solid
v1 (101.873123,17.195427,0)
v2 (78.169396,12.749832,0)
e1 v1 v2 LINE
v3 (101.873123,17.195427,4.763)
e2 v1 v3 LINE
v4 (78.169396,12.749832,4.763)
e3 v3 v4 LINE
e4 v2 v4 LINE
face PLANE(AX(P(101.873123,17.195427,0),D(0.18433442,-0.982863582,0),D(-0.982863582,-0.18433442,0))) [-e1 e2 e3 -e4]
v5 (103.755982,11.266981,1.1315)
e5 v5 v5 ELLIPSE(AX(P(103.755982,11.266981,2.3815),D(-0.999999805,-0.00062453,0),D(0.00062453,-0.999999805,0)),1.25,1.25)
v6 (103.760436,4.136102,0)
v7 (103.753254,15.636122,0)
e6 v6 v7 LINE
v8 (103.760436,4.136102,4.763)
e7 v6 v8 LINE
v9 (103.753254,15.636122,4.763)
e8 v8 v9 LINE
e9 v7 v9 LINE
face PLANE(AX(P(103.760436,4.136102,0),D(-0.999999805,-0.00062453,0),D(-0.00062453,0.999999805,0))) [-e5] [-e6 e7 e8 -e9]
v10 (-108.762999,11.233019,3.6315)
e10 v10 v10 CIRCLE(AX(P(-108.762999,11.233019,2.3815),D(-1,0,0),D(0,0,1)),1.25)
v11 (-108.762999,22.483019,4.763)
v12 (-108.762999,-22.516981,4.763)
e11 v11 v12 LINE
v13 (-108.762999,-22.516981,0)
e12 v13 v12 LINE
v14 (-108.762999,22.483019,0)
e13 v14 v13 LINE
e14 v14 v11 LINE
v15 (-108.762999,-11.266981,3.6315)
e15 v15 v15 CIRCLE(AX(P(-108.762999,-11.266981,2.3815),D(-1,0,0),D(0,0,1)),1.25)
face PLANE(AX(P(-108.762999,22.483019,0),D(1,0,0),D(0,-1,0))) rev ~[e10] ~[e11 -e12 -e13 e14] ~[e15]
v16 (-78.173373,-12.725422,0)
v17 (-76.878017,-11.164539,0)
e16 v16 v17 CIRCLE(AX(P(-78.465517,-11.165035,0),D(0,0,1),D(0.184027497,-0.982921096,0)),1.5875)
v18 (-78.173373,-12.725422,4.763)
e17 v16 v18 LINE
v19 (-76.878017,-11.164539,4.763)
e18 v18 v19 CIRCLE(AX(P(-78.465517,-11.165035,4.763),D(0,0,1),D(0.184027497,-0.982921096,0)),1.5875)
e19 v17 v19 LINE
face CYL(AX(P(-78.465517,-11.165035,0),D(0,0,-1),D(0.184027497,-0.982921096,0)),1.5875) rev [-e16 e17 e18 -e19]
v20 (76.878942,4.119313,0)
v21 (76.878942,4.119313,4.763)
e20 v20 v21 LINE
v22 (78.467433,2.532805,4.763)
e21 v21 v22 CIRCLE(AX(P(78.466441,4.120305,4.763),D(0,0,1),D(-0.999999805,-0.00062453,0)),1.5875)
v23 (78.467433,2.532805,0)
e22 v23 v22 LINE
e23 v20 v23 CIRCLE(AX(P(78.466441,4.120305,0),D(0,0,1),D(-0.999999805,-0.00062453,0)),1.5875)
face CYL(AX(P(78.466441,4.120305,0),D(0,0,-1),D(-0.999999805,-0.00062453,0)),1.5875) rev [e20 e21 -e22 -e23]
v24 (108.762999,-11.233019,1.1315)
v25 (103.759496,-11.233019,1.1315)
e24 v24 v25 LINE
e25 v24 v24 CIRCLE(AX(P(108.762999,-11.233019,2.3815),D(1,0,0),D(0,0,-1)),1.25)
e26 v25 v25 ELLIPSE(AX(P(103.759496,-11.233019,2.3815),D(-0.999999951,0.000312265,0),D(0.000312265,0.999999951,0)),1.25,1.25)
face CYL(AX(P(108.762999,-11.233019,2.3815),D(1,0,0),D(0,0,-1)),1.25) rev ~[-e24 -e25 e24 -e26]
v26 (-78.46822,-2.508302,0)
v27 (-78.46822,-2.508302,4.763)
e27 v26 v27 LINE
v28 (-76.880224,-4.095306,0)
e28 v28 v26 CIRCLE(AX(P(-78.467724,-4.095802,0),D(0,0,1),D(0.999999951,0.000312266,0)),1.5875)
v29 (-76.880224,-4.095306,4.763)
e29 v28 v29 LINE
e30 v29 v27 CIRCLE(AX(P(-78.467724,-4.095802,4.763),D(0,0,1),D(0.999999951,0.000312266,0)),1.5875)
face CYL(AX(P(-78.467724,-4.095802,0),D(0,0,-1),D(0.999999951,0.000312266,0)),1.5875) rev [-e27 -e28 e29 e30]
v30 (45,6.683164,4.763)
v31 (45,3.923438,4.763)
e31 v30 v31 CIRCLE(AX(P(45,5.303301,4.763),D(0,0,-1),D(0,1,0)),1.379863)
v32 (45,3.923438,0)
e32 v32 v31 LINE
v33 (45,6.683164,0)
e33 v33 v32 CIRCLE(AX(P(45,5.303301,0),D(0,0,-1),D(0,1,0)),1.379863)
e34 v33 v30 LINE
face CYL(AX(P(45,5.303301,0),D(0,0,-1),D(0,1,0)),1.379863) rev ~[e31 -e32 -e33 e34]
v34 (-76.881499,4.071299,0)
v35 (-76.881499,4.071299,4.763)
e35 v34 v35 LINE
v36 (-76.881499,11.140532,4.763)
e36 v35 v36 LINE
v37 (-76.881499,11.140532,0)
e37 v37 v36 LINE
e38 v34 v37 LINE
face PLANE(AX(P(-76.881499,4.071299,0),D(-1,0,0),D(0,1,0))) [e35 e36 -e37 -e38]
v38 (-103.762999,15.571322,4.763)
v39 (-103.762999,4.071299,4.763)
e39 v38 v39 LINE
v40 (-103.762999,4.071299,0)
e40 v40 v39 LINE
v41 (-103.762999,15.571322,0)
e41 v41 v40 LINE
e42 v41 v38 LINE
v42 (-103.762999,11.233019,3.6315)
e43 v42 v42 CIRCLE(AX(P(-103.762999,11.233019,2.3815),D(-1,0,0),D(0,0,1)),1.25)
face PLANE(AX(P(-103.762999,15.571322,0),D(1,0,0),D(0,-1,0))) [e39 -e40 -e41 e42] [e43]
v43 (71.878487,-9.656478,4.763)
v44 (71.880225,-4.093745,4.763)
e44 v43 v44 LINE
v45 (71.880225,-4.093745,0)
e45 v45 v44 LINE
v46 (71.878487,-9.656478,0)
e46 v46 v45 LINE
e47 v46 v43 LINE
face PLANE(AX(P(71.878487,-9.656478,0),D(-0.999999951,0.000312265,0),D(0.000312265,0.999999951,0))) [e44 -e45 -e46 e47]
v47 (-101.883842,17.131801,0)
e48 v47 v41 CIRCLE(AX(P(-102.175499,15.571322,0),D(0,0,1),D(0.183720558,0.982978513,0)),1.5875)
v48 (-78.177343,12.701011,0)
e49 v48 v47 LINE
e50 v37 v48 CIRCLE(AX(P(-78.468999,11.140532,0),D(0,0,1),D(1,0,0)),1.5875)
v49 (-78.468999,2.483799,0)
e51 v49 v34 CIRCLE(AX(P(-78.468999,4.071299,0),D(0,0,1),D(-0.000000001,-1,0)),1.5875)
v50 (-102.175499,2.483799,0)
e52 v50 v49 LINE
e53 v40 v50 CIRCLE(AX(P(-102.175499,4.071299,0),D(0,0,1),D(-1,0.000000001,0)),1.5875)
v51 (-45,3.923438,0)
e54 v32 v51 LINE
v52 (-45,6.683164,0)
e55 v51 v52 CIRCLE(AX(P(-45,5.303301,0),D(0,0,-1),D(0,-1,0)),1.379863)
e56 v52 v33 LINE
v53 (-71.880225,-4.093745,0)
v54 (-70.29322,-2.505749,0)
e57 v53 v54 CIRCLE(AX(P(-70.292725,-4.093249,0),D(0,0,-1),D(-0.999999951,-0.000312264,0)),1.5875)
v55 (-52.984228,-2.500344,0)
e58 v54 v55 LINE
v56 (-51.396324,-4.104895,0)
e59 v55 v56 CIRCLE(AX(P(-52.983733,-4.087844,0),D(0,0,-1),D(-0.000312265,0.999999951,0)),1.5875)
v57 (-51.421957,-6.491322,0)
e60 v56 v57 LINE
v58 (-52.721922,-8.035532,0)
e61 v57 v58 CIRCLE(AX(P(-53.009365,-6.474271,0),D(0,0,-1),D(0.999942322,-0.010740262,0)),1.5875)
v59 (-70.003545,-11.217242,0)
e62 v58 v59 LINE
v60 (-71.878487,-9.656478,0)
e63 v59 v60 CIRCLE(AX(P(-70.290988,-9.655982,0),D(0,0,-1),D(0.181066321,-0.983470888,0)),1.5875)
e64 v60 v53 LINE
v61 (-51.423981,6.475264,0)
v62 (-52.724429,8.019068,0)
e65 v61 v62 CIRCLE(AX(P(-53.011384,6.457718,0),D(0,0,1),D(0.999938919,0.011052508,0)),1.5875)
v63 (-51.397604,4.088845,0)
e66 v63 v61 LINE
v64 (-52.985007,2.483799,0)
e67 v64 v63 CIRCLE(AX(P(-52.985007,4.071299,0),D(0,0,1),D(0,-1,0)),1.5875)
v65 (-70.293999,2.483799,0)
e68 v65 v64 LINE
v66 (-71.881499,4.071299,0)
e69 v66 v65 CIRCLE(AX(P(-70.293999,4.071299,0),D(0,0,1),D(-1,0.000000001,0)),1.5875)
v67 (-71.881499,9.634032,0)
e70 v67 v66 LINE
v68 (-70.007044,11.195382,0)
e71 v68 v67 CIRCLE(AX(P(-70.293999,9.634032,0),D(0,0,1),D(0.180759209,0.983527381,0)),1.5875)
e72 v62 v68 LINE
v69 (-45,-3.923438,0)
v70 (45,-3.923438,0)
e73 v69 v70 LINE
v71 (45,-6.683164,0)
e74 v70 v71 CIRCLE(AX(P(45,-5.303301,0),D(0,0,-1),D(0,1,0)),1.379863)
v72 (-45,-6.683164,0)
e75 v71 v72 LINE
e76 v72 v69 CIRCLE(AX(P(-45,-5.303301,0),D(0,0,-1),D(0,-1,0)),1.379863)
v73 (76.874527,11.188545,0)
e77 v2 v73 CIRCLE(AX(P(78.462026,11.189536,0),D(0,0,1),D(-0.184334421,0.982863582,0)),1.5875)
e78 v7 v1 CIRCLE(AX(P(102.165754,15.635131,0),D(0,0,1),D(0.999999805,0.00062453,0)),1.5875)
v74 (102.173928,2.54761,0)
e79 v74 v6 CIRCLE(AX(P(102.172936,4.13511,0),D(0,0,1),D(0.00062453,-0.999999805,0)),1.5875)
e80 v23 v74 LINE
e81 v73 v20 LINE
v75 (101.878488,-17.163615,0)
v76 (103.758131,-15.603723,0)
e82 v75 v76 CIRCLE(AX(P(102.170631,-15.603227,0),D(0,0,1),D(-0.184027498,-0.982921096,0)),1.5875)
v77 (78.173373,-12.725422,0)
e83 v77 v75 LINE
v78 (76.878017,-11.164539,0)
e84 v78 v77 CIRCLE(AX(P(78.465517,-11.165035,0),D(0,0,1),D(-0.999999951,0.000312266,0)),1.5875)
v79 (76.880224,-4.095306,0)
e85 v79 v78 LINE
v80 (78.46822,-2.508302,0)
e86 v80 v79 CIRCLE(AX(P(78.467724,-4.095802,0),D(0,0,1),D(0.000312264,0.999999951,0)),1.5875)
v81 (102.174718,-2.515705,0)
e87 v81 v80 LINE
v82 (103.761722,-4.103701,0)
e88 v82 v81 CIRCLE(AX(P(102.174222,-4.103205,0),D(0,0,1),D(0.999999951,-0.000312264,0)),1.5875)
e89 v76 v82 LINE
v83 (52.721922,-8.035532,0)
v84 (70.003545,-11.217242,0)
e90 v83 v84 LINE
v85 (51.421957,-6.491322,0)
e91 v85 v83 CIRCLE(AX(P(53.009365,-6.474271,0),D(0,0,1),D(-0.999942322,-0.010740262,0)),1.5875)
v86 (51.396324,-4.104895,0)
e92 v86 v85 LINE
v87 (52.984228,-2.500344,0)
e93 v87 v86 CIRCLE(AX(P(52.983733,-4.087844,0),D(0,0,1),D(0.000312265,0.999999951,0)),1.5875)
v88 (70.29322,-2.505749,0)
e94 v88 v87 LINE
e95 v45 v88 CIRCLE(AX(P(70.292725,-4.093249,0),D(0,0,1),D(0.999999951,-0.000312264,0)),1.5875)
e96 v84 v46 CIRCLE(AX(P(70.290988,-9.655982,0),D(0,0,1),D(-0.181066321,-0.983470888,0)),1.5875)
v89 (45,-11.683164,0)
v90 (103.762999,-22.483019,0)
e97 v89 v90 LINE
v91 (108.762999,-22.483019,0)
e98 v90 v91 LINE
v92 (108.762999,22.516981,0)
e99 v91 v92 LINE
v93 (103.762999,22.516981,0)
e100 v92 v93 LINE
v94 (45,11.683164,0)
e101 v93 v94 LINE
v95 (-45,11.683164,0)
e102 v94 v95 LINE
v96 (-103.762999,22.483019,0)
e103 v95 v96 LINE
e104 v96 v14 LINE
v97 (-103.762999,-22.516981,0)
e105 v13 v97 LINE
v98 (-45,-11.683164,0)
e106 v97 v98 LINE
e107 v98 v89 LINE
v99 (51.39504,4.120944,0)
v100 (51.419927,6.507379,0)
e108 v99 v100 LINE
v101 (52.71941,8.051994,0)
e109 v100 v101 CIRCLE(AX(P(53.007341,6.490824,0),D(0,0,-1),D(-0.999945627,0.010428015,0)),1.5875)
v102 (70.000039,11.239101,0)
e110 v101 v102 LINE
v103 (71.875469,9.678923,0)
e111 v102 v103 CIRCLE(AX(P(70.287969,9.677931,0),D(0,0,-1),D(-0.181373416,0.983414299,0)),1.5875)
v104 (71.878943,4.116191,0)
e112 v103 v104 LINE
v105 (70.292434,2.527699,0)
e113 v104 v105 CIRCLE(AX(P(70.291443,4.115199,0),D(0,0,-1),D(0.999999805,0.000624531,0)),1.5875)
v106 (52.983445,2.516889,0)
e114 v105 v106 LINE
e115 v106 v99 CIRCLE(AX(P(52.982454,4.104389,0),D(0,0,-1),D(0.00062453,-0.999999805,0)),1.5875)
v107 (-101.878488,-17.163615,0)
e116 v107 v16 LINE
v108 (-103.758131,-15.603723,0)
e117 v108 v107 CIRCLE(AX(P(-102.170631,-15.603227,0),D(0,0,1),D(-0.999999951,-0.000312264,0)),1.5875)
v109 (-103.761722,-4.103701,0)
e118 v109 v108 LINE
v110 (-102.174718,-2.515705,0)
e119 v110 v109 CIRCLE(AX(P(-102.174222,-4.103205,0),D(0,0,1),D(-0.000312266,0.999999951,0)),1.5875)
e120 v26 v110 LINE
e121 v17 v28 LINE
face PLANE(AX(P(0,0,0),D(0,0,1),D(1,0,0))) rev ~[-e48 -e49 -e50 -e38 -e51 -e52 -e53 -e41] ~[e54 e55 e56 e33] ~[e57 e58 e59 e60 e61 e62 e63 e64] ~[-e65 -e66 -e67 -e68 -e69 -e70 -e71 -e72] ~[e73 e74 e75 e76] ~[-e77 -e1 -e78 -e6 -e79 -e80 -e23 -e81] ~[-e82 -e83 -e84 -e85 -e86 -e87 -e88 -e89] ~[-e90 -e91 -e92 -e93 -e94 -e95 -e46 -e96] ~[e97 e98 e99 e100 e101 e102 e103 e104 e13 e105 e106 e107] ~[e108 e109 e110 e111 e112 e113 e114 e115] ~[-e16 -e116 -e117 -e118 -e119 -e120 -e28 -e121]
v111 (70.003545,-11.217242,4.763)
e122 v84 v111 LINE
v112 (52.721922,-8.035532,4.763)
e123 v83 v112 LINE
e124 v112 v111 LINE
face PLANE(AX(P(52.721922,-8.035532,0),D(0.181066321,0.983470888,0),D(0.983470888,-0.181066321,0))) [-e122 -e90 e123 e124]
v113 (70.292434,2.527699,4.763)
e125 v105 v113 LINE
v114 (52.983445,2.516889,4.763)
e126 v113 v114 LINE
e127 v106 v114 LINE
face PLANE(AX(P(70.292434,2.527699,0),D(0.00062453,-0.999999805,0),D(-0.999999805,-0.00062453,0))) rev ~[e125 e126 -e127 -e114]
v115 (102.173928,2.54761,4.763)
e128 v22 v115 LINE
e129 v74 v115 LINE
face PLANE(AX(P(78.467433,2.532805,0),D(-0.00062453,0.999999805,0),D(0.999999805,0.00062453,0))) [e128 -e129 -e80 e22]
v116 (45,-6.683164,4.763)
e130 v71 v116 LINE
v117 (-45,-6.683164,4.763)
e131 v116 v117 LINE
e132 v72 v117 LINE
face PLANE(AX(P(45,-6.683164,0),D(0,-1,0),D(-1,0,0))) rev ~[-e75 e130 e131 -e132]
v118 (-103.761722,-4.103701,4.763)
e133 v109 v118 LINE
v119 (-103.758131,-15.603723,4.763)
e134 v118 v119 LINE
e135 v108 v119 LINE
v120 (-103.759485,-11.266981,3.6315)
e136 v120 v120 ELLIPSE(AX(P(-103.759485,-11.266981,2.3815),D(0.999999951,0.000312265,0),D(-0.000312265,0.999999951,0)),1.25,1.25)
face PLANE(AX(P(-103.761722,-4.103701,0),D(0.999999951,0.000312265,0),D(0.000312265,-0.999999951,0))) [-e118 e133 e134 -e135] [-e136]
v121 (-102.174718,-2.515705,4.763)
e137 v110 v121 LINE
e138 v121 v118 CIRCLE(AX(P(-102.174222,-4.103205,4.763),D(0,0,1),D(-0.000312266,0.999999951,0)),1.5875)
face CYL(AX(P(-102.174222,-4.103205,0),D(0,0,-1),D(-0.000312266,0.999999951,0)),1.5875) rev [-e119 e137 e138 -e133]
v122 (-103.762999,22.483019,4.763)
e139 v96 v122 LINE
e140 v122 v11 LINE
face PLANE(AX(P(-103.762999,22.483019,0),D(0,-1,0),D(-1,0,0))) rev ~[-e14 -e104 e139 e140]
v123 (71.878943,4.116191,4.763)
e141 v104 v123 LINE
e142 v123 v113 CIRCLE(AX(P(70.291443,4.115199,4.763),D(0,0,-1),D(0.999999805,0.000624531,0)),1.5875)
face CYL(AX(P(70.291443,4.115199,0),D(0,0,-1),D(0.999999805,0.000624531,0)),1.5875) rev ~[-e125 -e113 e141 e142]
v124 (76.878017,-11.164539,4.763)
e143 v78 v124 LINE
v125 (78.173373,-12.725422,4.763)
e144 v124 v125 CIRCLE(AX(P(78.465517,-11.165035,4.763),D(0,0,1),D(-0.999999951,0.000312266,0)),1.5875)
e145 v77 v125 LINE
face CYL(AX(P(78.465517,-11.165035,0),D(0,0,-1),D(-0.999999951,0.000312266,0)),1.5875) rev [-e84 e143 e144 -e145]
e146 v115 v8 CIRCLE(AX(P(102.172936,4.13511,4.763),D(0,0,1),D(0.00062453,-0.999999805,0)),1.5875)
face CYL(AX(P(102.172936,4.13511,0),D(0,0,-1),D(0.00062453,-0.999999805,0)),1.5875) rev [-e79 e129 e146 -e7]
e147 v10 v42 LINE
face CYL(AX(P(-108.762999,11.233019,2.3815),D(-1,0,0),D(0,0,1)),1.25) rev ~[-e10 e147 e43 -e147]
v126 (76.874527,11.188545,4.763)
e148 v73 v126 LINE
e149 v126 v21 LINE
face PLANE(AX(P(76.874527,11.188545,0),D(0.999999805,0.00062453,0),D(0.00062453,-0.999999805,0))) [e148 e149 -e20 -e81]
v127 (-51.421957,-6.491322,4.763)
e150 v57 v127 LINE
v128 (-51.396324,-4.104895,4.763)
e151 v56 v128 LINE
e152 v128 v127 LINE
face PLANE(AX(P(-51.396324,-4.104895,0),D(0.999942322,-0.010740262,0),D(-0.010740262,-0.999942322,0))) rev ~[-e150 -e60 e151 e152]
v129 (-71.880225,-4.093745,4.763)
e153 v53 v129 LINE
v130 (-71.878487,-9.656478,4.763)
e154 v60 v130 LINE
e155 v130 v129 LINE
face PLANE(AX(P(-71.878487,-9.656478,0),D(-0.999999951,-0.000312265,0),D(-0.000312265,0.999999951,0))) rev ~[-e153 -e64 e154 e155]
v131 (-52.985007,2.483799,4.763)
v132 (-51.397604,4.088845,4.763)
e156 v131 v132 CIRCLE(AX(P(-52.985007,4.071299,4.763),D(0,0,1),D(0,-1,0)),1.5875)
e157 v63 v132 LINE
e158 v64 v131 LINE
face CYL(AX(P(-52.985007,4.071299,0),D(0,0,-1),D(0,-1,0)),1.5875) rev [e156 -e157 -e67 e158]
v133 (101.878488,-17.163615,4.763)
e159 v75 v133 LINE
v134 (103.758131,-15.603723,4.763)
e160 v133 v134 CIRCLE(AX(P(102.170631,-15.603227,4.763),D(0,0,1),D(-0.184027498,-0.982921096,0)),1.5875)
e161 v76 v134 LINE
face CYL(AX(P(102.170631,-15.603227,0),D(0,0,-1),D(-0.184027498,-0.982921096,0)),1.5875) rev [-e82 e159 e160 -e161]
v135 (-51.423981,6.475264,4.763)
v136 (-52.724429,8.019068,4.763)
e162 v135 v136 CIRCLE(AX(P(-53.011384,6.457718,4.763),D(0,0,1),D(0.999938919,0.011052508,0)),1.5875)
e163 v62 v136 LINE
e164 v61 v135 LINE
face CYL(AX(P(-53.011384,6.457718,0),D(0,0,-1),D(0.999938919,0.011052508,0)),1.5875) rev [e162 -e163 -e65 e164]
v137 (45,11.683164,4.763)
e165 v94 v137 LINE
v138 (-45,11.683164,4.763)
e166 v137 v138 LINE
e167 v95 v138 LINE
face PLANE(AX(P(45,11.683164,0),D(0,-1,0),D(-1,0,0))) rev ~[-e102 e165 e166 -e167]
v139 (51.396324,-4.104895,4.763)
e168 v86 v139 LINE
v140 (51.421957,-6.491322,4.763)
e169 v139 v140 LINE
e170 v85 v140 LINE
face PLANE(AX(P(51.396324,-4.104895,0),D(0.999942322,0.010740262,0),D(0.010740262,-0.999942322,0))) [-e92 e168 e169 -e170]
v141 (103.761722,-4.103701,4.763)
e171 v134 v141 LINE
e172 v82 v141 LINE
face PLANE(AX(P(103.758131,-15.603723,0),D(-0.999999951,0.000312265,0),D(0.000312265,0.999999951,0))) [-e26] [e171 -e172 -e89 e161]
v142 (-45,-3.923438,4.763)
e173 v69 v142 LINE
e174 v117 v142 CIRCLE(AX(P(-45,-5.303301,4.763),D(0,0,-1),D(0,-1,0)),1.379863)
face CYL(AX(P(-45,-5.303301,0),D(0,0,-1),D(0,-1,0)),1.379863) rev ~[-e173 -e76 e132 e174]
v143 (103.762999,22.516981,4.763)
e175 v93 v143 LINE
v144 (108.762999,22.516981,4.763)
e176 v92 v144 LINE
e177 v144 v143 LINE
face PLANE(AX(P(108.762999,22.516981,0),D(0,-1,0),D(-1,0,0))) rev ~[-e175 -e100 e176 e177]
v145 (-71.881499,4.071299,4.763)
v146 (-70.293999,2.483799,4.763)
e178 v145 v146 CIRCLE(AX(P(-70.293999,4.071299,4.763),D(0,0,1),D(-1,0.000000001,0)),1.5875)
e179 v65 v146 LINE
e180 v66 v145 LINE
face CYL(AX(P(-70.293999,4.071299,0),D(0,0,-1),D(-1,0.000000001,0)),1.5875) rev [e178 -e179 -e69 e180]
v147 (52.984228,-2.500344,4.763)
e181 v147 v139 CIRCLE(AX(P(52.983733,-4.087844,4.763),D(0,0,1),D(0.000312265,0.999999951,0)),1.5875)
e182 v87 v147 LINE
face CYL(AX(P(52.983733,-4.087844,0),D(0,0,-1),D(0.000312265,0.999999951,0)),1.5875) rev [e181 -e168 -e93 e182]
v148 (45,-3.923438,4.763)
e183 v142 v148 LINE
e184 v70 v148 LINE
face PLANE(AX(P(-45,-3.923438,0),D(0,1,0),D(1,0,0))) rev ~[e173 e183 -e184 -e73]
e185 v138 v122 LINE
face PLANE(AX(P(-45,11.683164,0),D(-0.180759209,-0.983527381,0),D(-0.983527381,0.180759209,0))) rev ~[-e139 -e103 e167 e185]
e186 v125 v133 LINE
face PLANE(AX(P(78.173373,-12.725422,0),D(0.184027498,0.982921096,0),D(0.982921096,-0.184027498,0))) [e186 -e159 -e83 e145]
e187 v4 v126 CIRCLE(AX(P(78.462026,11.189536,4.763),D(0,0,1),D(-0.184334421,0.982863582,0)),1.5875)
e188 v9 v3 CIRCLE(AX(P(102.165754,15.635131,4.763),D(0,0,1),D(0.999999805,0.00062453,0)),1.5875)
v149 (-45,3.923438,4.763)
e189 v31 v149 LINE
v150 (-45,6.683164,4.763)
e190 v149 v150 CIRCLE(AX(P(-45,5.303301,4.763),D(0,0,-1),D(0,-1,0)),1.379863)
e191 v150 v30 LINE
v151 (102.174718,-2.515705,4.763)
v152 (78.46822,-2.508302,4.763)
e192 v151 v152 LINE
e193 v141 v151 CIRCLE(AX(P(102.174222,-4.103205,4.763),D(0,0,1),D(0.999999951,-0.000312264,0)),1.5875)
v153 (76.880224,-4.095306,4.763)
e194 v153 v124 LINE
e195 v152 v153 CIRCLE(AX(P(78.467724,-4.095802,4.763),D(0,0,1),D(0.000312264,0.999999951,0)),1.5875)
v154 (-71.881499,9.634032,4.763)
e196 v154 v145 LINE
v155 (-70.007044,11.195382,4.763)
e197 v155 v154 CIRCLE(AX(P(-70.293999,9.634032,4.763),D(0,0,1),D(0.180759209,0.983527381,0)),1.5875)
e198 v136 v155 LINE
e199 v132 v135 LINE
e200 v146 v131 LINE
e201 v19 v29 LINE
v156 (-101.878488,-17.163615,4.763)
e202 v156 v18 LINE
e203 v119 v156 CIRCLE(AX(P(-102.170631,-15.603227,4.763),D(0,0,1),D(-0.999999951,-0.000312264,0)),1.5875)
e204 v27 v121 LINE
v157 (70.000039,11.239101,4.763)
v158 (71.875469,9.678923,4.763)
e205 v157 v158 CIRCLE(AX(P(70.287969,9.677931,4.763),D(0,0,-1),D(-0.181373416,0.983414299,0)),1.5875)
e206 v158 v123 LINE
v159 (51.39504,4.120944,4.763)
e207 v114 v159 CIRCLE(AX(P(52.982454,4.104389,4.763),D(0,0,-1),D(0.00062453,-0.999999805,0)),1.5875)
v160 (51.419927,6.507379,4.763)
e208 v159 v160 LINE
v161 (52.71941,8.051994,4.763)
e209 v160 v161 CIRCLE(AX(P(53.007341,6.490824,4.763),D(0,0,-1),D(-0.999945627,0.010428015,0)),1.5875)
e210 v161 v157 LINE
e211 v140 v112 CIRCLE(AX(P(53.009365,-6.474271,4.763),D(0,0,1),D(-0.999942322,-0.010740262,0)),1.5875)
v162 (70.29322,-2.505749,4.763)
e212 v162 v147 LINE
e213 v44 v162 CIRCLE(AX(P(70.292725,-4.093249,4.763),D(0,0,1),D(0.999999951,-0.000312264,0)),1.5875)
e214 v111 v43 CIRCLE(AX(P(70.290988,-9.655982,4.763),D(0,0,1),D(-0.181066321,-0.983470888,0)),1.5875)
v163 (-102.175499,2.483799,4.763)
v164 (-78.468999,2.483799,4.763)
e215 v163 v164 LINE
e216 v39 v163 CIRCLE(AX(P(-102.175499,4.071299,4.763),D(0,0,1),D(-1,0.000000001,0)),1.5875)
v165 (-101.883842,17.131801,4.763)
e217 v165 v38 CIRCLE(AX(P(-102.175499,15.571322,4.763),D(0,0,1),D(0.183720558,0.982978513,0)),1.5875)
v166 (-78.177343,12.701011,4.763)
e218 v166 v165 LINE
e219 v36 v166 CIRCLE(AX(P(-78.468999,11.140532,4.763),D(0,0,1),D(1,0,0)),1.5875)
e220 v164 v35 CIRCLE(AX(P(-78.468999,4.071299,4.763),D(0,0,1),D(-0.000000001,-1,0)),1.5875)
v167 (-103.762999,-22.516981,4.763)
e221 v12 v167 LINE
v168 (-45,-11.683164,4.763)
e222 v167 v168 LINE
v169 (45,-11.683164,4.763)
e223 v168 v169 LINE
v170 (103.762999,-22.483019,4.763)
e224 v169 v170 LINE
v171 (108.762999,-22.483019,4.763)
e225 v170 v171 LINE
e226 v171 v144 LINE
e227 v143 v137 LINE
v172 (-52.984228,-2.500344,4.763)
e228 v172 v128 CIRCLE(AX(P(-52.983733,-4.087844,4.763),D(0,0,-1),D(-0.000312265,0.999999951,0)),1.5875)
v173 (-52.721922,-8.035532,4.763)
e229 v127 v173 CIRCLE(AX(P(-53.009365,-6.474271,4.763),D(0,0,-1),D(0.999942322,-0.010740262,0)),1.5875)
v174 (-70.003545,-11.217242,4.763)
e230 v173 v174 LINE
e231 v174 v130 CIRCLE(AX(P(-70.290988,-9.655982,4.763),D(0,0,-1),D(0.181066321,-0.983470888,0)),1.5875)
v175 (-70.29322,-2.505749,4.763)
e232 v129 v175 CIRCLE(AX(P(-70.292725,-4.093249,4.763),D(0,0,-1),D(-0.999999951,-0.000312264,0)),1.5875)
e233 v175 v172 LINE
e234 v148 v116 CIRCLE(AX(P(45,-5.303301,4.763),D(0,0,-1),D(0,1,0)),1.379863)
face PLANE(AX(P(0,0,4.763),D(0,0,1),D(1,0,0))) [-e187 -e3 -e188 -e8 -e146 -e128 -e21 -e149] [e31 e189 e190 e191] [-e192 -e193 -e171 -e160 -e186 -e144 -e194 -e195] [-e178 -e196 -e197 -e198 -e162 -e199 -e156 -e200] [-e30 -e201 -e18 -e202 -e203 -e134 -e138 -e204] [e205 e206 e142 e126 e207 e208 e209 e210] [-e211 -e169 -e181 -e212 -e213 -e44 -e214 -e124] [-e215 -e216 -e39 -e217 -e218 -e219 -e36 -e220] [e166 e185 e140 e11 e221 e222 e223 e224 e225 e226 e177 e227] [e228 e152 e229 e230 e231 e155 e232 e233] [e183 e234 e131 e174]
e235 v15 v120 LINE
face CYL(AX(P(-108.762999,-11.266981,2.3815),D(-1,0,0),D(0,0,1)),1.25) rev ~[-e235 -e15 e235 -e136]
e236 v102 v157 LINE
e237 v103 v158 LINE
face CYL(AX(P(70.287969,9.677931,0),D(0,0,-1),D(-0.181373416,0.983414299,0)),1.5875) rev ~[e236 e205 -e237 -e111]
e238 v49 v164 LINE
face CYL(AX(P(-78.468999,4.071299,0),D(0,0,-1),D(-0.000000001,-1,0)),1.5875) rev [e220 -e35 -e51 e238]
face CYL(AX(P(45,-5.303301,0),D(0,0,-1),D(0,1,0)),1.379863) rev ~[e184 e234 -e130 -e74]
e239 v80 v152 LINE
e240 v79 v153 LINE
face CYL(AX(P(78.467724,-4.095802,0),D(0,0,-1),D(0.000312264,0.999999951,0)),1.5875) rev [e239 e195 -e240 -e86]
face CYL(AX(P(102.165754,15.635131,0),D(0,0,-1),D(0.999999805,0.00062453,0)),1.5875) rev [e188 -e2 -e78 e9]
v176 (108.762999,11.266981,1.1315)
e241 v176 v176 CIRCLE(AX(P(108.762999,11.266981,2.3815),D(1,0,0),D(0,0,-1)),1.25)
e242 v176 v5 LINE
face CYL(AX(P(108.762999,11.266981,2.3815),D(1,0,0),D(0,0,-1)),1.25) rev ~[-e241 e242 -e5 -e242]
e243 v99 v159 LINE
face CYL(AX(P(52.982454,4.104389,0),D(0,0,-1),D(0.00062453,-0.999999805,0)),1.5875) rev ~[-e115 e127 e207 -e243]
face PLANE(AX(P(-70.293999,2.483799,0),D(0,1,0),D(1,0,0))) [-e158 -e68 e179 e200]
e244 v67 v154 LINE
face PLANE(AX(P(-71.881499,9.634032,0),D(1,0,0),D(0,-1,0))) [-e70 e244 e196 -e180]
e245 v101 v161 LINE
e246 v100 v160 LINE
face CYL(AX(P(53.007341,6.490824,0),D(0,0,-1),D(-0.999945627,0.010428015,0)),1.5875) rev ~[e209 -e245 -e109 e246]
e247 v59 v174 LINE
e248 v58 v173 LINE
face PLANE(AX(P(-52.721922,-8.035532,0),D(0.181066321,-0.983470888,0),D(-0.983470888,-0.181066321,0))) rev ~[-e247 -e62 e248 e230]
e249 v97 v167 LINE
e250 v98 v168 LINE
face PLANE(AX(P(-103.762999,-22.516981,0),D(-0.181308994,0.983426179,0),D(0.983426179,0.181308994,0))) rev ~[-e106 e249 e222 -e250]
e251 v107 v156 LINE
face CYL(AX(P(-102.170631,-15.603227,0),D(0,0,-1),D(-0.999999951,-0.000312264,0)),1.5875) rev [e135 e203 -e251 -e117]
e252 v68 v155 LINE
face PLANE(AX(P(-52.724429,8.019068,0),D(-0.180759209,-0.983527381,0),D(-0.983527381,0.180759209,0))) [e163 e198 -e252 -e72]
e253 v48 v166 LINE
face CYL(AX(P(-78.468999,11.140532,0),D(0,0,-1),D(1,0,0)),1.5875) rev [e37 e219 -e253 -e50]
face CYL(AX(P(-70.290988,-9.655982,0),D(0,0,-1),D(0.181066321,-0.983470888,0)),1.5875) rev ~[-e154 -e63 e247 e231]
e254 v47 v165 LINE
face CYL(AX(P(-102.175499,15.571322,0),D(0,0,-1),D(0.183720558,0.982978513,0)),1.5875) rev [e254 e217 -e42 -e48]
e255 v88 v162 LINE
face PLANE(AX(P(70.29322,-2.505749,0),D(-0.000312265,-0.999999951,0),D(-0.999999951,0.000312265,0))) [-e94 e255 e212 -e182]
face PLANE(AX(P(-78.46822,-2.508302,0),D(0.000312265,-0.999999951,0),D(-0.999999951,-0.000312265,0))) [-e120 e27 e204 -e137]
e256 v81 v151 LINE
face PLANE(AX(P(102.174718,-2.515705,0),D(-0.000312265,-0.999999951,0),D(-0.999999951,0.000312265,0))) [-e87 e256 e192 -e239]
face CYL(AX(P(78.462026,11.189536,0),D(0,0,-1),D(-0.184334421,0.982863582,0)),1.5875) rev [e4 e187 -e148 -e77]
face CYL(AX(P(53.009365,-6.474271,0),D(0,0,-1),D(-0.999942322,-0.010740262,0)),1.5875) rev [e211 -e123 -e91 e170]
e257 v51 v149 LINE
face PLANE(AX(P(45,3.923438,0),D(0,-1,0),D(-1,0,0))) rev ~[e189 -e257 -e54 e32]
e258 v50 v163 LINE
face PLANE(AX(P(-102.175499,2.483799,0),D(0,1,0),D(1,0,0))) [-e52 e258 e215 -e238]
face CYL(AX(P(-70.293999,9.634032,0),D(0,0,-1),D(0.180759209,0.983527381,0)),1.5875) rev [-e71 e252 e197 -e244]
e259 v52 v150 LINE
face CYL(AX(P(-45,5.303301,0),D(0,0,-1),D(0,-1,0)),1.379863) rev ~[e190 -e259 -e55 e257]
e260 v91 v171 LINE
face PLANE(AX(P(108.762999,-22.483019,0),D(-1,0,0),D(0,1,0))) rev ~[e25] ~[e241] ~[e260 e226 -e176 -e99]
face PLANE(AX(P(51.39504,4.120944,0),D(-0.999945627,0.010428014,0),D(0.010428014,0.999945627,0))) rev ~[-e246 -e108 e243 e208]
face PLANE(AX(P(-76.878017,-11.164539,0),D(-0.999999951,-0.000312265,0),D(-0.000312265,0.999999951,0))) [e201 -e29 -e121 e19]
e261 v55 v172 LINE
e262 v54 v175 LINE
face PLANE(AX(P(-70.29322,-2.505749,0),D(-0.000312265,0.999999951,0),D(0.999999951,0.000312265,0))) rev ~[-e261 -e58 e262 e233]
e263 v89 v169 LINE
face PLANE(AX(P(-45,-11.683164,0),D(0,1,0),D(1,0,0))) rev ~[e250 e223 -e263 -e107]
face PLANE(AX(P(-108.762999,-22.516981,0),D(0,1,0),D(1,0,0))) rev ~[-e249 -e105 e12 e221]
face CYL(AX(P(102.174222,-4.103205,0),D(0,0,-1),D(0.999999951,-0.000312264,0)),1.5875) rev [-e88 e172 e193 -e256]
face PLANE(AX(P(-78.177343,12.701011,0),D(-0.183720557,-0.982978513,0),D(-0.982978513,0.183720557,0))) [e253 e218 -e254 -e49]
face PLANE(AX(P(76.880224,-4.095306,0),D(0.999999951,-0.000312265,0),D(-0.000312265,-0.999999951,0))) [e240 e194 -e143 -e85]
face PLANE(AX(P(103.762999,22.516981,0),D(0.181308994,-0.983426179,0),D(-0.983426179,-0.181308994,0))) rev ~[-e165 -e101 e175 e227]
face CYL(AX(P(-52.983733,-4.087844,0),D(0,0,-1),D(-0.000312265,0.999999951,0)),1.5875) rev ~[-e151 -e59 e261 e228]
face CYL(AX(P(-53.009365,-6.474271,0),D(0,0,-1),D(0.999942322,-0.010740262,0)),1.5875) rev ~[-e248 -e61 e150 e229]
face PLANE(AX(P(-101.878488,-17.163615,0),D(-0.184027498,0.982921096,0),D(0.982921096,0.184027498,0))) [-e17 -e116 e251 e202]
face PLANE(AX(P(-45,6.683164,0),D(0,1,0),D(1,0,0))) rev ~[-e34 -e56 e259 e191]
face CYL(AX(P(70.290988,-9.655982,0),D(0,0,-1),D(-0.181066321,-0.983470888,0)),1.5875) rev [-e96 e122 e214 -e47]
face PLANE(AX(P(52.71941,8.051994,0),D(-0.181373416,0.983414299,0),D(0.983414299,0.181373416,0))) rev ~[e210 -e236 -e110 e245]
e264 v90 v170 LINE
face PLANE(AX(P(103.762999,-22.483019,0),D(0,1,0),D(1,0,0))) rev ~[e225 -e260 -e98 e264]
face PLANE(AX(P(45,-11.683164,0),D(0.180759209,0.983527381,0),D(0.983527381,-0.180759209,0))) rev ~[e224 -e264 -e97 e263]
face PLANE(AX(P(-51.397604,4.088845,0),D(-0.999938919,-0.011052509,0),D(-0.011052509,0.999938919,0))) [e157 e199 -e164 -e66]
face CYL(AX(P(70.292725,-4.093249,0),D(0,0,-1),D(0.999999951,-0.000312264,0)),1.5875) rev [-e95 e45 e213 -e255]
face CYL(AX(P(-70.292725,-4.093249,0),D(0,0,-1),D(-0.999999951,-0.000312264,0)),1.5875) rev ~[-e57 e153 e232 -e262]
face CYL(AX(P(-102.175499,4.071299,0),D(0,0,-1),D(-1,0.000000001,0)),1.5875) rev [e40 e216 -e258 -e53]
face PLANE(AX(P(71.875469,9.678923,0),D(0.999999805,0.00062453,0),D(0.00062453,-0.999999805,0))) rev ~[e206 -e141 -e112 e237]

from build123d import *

# Parameters (mm, degrees)
BOSS_EXTRUDE1_DEPTH              = 4.763
TAP_DRILL_FOR_M3X0_5_TAP1_REACH  = 220.74
TAP_DRILL_FOR_M3X0_5_TAP1_BORE_R = 1.25
TAP_DRILL_FOR_M3X0_5_TAP2_REACH  = 220.74
TAP_DRILL_FOR_M3X0_5_TAP2_BORE_R = 1.25


with BuildPart() as part:
    # Sketch3 → Boss-Extrude1 (new body)
    with BuildSketch(Plane.XY):
        Polygon((-108.762998674, 22.483018567), (-108.762998674, -22.516981433), (-103.762998674, -22.516981433), (-45, -11.683163514), (45, -11.683163514), (103.762998674, -22.483018567), (108.762998674, -22.483018567), (108.762998674, 22.516981433), (103.762998674, 22.516981433), (45, 11.683163514), (-45, 11.683163514), (-103.762998674, 22.483018567), align=None)
        with BuildLine():
            Line((-45, -3.923438204), (45, -3.923438204))
            ThreePointArc((45, -3.923438204), (46.379862655, -5.303300859), (45, -6.683163514))
            Line((45, -6.683163514), (-45, -6.683163514))
            ThreePointArc((-45, -6.683163514), (-46.379862655, -5.303300859), (-45, -3.923438204))
        make_face(mode=Mode.SUBTRACT)
        with BuildLine():
            Line((-45, 6.683163514), (45, 6.683163514))
            ThreePointArc((45, 6.683163514), (46.379862655, 5.303300859), (45, 3.923438204))
            Line((45, 3.923438204), (-45, 3.923438204))
            ThreePointArc((-45, 3.923438204), (-46.379862655, 5.303300859), (-45, 6.683163514))
        make_face(mode=Mode.SUBTRACT)
        with BuildLine():
            Line((-103.762998674, 15.571322269), (-103.762998674, 4.07129926))
            ThreePointArc((-103.762998674, 4.07129926), (-103.298030689, 2.948767244), (-102.175498674, 2.48379926))
            Line((-102.175498674, 2.48379926), (-78.468999337, 2.48379926))
            ThreePointArc((-78.468999337, 2.48379926), (-77.346467322, 2.948767244), (-76.881499337, 4.07129926))
            Line((-76.881499337, 4.07129926), (-76.881499337, 11.140532377))
            ThreePointArc((-76.881499337, 11.140532377), (-77.247696598, 12.154719672), (-78.177342953, 12.701010766))
            Line((-78.177342953, 12.701010766), (-101.88384229, 17.131800658))
            ThreePointArc((-101.88384229, 17.131800658), (-103.18968597, 16.792625008), (-103.762998674, 15.571322269))
        make_face(mode=Mode.SUBTRACT)
        with BuildLine():
            Line((-52.721922194, -8.035531504), (-70.003544755, -11.217242177))
            ThreePointArc((-70.003544755, -11.217242177), (-71.306631893, -10.87607345), (-71.878487463, -9.656477863))
            Line((-71.878487463, -9.656477863), (-71.880224509, -4.093745129))
            ThreePointArc((-71.880224509, -4.093745129), (-71.415607074, -2.971067976), (-70.293220307, -2.505749486))
            Line((-70.293220307, -2.505749486), (-52.984228369, -2.500344496))
            ThreePointArc((-52.984228369, -2.500344496), (-51.855362923, -2.971180632), (-51.396324213, -4.104894584))
            Line((-51.396324213, -4.104894584), (-51.421956543, -6.491321636))
            ThreePointArc((-51.421956543, -6.491321636), (-51.794905097, -7.496642951), (-52.721922194, -8.035531504))
        make_face(mode=Mode.SUBTRACT)
        with BuildLine():
            Line((-71.881499337, 9.634032264), (-71.881499337, 4.07129926))
            ThreePointArc((-71.881499337, 4.07129926), (-71.416531352, 2.948767244), (-70.293999337, 2.48379926))
            Line((-70.293999337, 2.48379926), (-52.985006556, 2.48379926))
            ThreePointArc((-52.985006556, 2.48379926), (-51.85628819, 2.954987878), (-51.397603521, 4.088845117))
            Line((-51.397603521, 4.088845117), (-51.423981048, 6.475264048))
            ThreePointArc((-51.423981048, 6.475264048), (-51.79724351, 7.480468855), (-52.724428838, 8.019067907))
            Line((-52.724428838, 8.019067907), (-70.007044093, 11.195381981))
            ThreePointArc((-70.007044093, 11.195381981), (-71.310024632, 10.853806362), (-71.881499337, 9.634032264))
        make_face(mode=Mode.SUBTRACT)
        with BuildLine():
            Line((-78.468219908, -2.508302252), (-102.17471809, -2.515704959))
            ThreePointArc((-102.17471809, -2.515704959), (-103.297104857, -2.981023449), (-103.761722292, -4.103700602))
            Line((-103.761722292, -4.103700602), (-103.758131238, -15.603723051))
            ThreePointArc((-103.758131238, -15.603723051), (-103.184437192, -16.824846705), (-101.878487663, -17.16361457))
            Line((-101.878487663, -17.16361457), (-78.173373062, -12.725422186))
            ThreePointArc((-78.173373062, -12.725422186), (-77.24389734, -12.178840823), (-76.878016792, -11.164539226))
            Line((-76.878016792, -11.164539226), (-76.880224265, -4.095306454))
            ThreePointArc((-76.880224265, -4.095306454), (-77.345542755, -2.972919687), (-78.468219908, -2.508302252))
        make_face(mode=Mode.SUBTRACT)
        with BuildLine():
            Line((103.758131238, -15.603723051), (103.761722292, -4.103700602))
            ThreePointArc((103.761722292, -4.103700602), (103.297104857, -2.981023449), (102.17471809, -2.515704959))
            Line((102.17471809, -2.515704959), (78.468219908, -2.508302252))
            ThreePointArc((78.468219908, -2.508302252), (77.345542755, -2.972919687), (76.880224265, -4.095306454))
            Line((76.880224265, -4.095306454), (76.878016792, -11.164539226))
            ThreePointArc((76.878016792, -11.164539226), (77.24389734, -12.178840823), (78.173373062, -12.725422186))
            Line((78.173373062, -12.725422186), (101.878487663, -17.16361457))
            ThreePointArc((101.878487663, -17.16361457), (103.184437192, -16.824846705), (103.758131238, -15.603723051))
        make_face(mode=Mode.SUBTRACT)
        with BuildLine():
            Line((71.878487463, -9.656477863), (71.880224509, -4.093745129))
            ThreePointArc((71.880224509, -4.093745129), (71.415607074, -2.971067976), (70.293220307, -2.505749486))
            Line((70.293220307, -2.505749486), (52.984228369, -2.500344496))
            ThreePointArc((52.984228369, -2.500344496), (51.855362923, -2.971180632), (51.396324213, -4.104894584))
            Line((51.396324213, -4.104894584), (51.421956543, -6.491321636))
            ThreePointArc((51.421956543, -6.491321636), (51.794905097, -7.496642951), (52.721922194, -8.035531504))
            Line((52.721922194, -8.035531504), (70.003544755, -11.217242177))
            ThreePointArc((70.003544755, -11.217242177), (71.306631893, -10.87607345), (71.878487463, -9.656477863))
        make_face(mode=Mode.SUBTRACT)
        with BuildLine():
            Line((52.719410409, 8.051994317), (70.000038591, 11.239101279))
            ThreePointArc((70.000038591, 11.239101279), (71.3032322, 10.898339477), (71.875468579, 9.67892252))
            Line((71.875468579, 9.67892252), (71.878942671, 4.1161906))
            ThreePointArc((71.878942671, 4.1161906), (71.414675832, 2.993368417), (70.292434422, 2.527699469))
            Line((70.292434422, 2.527699469), (52.983445016, 2.516889488))
            ThreePointArc((52.983445016, 2.516889488), (51.854432599, 2.987373096), (51.395039893, 4.120943651))
            Line((51.395039893, 4.120943651), (51.419927024, 6.507378591))
            ThreePointArc((51.419927024, 6.507378591), (51.792561634, 7.512816316), (52.719410409, 8.051994317))
        make_face(mode=Mode.SUBTRACT)
        with BuildLine():
            Line((78.467432828, 2.532804999), (102.173927542, 2.547610413))
            ThreePointArc((102.173927542, 2.547610413), (103.296168952, 3.013279362), (103.760435791, 4.136101544))
            Line((103.760435791, 4.136101544), (103.753253685, 15.636122311))
            ThreePointArc((103.753253685, 15.636122311), (103.179178352, 16.857066761), (101.873123102, 17.195426807))
            Line((101.873123102, 17.195426807), (78.169395548, 12.749832365))
            ThreePointArc((78.169395548, 12.749832365), (77.24009055, 12.202960786), (76.87452675, 11.188544987))
            Line((76.87452675, 11.188544987), (76.878941696, 4.119313249))
            ThreePointArc((76.878941696, 4.119313249), (77.344610645, 2.997071839), (78.467432828, 2.532804999))
        make_face(mode=Mode.SUBTRACT)
    extrude(amount=BOSS_EXTRUDE1_DEPTH)

    # Tap Drill for M3x0.5 Tap1 bore → Tap Drill for M3x0.5 Tap1 (cut, up to next)
    with BuildSketch(Plane(origin=(108.762998674, 0, 0), x_dir=(0, 0, -1), z_dir=(1, 0, 0)), mode=Mode.PRIVATE) as tap_drill_for_m3x0_5_tap1_sk1:
        with Locations((-2.3815, 11.266981433)):
            Circle(TAP_DRILL_FOR_M3X0_5_TAP1_BORE_R)
    tap_drill_for_m3x0_5_tap1_tool1 = extrude(tap_drill_for_m3x0_5_tap1_sk1.sketch, amount=-TAP_DRILL_FOR_M3X0_5_TAP1_REACH, mode=Mode.PRIVATE) & part.part
    # Tap Drill for M3x0.5 Tap1 bore → Tap Drill for M3x0.5 Tap1 (cut, up to next)
    with BuildSketch(Plane(origin=(108.762998674, 0, 0), x_dir=(0, 0, -1), z_dir=(1, 0, 0)), mode=Mode.PRIVATE) as tap_drill_for_m3x0_5_tap1_sk2:
        with Locations((-2.3815, -11.233018567)):
            Circle(TAP_DRILL_FOR_M3X0_5_TAP1_BORE_R)
    tap_drill_for_m3x0_5_tap1_tool2 = extrude(tap_drill_for_m3x0_5_tap1_sk2.sketch, amount=-TAP_DRILL_FOR_M3X0_5_TAP1_REACH, mode=Mode.PRIVATE) & part.part
    add(tap_drill_for_m3x0_5_tap1_tool1.solids().sort_by_distance((108.762999, 11.266981, 2.3815))[0], mode=Mode.SUBTRACT)
    add(tap_drill_for_m3x0_5_tap1_tool2.solids().sort_by_distance((108.762999, -11.233019, 2.3815))[0], mode=Mode.SUBTRACT)

    # Tap Drill for M3x0.5 Tap2 bore → Tap Drill for M3x0.5 Tap2 (cut, up to next)
    with BuildSketch(Plane.ZY.offset(108.762998674), mode=Mode.PRIVATE) as tap_drill_for_m3x0_5_tap2_sk1:
        with Locations((2.3815, 11.233018567)):
            Circle(TAP_DRILL_FOR_M3X0_5_TAP2_BORE_R)
    tap_drill_for_m3x0_5_tap2_tool1 = extrude(tap_drill_for_m3x0_5_tap2_sk1.sketch, amount=-TAP_DRILL_FOR_M3X0_5_TAP2_REACH, mode=Mode.PRIVATE) & part.part
    # Tap Drill for M3x0.5 Tap2 bore → Tap Drill for M3x0.5 Tap2 (cut, up to next)
    with BuildSketch(Plane.ZY.offset(108.762998674), mode=Mode.PRIVATE) as tap_drill_for_m3x0_5_tap2_sk2:
        with Locations((2.3815, -11.266981433)):
            Circle(TAP_DRILL_FOR_M3X0_5_TAP2_BORE_R)
    tap_drill_for_m3x0_5_tap2_tool2 = extrude(tap_drill_for_m3x0_5_tap2_sk2.sketch, amount=-TAP_DRILL_FOR_M3X0_5_TAP2_REACH, mode=Mode.PRIVATE) & part.part
    add(tap_drill_for_m3x0_5_tap2_tool1.solids().sort_by_distance((-108.762999, 11.233019, 2.3815))[0], mode=Mode.SUBTRACT)
    add(tap_drill_for_m3x0_5_tap2_tool2.solids().sort_by_distance((-108.762999, -11.266981, 2.3815))[0], mode=Mode.SUBTRACT)


solid = part.part
